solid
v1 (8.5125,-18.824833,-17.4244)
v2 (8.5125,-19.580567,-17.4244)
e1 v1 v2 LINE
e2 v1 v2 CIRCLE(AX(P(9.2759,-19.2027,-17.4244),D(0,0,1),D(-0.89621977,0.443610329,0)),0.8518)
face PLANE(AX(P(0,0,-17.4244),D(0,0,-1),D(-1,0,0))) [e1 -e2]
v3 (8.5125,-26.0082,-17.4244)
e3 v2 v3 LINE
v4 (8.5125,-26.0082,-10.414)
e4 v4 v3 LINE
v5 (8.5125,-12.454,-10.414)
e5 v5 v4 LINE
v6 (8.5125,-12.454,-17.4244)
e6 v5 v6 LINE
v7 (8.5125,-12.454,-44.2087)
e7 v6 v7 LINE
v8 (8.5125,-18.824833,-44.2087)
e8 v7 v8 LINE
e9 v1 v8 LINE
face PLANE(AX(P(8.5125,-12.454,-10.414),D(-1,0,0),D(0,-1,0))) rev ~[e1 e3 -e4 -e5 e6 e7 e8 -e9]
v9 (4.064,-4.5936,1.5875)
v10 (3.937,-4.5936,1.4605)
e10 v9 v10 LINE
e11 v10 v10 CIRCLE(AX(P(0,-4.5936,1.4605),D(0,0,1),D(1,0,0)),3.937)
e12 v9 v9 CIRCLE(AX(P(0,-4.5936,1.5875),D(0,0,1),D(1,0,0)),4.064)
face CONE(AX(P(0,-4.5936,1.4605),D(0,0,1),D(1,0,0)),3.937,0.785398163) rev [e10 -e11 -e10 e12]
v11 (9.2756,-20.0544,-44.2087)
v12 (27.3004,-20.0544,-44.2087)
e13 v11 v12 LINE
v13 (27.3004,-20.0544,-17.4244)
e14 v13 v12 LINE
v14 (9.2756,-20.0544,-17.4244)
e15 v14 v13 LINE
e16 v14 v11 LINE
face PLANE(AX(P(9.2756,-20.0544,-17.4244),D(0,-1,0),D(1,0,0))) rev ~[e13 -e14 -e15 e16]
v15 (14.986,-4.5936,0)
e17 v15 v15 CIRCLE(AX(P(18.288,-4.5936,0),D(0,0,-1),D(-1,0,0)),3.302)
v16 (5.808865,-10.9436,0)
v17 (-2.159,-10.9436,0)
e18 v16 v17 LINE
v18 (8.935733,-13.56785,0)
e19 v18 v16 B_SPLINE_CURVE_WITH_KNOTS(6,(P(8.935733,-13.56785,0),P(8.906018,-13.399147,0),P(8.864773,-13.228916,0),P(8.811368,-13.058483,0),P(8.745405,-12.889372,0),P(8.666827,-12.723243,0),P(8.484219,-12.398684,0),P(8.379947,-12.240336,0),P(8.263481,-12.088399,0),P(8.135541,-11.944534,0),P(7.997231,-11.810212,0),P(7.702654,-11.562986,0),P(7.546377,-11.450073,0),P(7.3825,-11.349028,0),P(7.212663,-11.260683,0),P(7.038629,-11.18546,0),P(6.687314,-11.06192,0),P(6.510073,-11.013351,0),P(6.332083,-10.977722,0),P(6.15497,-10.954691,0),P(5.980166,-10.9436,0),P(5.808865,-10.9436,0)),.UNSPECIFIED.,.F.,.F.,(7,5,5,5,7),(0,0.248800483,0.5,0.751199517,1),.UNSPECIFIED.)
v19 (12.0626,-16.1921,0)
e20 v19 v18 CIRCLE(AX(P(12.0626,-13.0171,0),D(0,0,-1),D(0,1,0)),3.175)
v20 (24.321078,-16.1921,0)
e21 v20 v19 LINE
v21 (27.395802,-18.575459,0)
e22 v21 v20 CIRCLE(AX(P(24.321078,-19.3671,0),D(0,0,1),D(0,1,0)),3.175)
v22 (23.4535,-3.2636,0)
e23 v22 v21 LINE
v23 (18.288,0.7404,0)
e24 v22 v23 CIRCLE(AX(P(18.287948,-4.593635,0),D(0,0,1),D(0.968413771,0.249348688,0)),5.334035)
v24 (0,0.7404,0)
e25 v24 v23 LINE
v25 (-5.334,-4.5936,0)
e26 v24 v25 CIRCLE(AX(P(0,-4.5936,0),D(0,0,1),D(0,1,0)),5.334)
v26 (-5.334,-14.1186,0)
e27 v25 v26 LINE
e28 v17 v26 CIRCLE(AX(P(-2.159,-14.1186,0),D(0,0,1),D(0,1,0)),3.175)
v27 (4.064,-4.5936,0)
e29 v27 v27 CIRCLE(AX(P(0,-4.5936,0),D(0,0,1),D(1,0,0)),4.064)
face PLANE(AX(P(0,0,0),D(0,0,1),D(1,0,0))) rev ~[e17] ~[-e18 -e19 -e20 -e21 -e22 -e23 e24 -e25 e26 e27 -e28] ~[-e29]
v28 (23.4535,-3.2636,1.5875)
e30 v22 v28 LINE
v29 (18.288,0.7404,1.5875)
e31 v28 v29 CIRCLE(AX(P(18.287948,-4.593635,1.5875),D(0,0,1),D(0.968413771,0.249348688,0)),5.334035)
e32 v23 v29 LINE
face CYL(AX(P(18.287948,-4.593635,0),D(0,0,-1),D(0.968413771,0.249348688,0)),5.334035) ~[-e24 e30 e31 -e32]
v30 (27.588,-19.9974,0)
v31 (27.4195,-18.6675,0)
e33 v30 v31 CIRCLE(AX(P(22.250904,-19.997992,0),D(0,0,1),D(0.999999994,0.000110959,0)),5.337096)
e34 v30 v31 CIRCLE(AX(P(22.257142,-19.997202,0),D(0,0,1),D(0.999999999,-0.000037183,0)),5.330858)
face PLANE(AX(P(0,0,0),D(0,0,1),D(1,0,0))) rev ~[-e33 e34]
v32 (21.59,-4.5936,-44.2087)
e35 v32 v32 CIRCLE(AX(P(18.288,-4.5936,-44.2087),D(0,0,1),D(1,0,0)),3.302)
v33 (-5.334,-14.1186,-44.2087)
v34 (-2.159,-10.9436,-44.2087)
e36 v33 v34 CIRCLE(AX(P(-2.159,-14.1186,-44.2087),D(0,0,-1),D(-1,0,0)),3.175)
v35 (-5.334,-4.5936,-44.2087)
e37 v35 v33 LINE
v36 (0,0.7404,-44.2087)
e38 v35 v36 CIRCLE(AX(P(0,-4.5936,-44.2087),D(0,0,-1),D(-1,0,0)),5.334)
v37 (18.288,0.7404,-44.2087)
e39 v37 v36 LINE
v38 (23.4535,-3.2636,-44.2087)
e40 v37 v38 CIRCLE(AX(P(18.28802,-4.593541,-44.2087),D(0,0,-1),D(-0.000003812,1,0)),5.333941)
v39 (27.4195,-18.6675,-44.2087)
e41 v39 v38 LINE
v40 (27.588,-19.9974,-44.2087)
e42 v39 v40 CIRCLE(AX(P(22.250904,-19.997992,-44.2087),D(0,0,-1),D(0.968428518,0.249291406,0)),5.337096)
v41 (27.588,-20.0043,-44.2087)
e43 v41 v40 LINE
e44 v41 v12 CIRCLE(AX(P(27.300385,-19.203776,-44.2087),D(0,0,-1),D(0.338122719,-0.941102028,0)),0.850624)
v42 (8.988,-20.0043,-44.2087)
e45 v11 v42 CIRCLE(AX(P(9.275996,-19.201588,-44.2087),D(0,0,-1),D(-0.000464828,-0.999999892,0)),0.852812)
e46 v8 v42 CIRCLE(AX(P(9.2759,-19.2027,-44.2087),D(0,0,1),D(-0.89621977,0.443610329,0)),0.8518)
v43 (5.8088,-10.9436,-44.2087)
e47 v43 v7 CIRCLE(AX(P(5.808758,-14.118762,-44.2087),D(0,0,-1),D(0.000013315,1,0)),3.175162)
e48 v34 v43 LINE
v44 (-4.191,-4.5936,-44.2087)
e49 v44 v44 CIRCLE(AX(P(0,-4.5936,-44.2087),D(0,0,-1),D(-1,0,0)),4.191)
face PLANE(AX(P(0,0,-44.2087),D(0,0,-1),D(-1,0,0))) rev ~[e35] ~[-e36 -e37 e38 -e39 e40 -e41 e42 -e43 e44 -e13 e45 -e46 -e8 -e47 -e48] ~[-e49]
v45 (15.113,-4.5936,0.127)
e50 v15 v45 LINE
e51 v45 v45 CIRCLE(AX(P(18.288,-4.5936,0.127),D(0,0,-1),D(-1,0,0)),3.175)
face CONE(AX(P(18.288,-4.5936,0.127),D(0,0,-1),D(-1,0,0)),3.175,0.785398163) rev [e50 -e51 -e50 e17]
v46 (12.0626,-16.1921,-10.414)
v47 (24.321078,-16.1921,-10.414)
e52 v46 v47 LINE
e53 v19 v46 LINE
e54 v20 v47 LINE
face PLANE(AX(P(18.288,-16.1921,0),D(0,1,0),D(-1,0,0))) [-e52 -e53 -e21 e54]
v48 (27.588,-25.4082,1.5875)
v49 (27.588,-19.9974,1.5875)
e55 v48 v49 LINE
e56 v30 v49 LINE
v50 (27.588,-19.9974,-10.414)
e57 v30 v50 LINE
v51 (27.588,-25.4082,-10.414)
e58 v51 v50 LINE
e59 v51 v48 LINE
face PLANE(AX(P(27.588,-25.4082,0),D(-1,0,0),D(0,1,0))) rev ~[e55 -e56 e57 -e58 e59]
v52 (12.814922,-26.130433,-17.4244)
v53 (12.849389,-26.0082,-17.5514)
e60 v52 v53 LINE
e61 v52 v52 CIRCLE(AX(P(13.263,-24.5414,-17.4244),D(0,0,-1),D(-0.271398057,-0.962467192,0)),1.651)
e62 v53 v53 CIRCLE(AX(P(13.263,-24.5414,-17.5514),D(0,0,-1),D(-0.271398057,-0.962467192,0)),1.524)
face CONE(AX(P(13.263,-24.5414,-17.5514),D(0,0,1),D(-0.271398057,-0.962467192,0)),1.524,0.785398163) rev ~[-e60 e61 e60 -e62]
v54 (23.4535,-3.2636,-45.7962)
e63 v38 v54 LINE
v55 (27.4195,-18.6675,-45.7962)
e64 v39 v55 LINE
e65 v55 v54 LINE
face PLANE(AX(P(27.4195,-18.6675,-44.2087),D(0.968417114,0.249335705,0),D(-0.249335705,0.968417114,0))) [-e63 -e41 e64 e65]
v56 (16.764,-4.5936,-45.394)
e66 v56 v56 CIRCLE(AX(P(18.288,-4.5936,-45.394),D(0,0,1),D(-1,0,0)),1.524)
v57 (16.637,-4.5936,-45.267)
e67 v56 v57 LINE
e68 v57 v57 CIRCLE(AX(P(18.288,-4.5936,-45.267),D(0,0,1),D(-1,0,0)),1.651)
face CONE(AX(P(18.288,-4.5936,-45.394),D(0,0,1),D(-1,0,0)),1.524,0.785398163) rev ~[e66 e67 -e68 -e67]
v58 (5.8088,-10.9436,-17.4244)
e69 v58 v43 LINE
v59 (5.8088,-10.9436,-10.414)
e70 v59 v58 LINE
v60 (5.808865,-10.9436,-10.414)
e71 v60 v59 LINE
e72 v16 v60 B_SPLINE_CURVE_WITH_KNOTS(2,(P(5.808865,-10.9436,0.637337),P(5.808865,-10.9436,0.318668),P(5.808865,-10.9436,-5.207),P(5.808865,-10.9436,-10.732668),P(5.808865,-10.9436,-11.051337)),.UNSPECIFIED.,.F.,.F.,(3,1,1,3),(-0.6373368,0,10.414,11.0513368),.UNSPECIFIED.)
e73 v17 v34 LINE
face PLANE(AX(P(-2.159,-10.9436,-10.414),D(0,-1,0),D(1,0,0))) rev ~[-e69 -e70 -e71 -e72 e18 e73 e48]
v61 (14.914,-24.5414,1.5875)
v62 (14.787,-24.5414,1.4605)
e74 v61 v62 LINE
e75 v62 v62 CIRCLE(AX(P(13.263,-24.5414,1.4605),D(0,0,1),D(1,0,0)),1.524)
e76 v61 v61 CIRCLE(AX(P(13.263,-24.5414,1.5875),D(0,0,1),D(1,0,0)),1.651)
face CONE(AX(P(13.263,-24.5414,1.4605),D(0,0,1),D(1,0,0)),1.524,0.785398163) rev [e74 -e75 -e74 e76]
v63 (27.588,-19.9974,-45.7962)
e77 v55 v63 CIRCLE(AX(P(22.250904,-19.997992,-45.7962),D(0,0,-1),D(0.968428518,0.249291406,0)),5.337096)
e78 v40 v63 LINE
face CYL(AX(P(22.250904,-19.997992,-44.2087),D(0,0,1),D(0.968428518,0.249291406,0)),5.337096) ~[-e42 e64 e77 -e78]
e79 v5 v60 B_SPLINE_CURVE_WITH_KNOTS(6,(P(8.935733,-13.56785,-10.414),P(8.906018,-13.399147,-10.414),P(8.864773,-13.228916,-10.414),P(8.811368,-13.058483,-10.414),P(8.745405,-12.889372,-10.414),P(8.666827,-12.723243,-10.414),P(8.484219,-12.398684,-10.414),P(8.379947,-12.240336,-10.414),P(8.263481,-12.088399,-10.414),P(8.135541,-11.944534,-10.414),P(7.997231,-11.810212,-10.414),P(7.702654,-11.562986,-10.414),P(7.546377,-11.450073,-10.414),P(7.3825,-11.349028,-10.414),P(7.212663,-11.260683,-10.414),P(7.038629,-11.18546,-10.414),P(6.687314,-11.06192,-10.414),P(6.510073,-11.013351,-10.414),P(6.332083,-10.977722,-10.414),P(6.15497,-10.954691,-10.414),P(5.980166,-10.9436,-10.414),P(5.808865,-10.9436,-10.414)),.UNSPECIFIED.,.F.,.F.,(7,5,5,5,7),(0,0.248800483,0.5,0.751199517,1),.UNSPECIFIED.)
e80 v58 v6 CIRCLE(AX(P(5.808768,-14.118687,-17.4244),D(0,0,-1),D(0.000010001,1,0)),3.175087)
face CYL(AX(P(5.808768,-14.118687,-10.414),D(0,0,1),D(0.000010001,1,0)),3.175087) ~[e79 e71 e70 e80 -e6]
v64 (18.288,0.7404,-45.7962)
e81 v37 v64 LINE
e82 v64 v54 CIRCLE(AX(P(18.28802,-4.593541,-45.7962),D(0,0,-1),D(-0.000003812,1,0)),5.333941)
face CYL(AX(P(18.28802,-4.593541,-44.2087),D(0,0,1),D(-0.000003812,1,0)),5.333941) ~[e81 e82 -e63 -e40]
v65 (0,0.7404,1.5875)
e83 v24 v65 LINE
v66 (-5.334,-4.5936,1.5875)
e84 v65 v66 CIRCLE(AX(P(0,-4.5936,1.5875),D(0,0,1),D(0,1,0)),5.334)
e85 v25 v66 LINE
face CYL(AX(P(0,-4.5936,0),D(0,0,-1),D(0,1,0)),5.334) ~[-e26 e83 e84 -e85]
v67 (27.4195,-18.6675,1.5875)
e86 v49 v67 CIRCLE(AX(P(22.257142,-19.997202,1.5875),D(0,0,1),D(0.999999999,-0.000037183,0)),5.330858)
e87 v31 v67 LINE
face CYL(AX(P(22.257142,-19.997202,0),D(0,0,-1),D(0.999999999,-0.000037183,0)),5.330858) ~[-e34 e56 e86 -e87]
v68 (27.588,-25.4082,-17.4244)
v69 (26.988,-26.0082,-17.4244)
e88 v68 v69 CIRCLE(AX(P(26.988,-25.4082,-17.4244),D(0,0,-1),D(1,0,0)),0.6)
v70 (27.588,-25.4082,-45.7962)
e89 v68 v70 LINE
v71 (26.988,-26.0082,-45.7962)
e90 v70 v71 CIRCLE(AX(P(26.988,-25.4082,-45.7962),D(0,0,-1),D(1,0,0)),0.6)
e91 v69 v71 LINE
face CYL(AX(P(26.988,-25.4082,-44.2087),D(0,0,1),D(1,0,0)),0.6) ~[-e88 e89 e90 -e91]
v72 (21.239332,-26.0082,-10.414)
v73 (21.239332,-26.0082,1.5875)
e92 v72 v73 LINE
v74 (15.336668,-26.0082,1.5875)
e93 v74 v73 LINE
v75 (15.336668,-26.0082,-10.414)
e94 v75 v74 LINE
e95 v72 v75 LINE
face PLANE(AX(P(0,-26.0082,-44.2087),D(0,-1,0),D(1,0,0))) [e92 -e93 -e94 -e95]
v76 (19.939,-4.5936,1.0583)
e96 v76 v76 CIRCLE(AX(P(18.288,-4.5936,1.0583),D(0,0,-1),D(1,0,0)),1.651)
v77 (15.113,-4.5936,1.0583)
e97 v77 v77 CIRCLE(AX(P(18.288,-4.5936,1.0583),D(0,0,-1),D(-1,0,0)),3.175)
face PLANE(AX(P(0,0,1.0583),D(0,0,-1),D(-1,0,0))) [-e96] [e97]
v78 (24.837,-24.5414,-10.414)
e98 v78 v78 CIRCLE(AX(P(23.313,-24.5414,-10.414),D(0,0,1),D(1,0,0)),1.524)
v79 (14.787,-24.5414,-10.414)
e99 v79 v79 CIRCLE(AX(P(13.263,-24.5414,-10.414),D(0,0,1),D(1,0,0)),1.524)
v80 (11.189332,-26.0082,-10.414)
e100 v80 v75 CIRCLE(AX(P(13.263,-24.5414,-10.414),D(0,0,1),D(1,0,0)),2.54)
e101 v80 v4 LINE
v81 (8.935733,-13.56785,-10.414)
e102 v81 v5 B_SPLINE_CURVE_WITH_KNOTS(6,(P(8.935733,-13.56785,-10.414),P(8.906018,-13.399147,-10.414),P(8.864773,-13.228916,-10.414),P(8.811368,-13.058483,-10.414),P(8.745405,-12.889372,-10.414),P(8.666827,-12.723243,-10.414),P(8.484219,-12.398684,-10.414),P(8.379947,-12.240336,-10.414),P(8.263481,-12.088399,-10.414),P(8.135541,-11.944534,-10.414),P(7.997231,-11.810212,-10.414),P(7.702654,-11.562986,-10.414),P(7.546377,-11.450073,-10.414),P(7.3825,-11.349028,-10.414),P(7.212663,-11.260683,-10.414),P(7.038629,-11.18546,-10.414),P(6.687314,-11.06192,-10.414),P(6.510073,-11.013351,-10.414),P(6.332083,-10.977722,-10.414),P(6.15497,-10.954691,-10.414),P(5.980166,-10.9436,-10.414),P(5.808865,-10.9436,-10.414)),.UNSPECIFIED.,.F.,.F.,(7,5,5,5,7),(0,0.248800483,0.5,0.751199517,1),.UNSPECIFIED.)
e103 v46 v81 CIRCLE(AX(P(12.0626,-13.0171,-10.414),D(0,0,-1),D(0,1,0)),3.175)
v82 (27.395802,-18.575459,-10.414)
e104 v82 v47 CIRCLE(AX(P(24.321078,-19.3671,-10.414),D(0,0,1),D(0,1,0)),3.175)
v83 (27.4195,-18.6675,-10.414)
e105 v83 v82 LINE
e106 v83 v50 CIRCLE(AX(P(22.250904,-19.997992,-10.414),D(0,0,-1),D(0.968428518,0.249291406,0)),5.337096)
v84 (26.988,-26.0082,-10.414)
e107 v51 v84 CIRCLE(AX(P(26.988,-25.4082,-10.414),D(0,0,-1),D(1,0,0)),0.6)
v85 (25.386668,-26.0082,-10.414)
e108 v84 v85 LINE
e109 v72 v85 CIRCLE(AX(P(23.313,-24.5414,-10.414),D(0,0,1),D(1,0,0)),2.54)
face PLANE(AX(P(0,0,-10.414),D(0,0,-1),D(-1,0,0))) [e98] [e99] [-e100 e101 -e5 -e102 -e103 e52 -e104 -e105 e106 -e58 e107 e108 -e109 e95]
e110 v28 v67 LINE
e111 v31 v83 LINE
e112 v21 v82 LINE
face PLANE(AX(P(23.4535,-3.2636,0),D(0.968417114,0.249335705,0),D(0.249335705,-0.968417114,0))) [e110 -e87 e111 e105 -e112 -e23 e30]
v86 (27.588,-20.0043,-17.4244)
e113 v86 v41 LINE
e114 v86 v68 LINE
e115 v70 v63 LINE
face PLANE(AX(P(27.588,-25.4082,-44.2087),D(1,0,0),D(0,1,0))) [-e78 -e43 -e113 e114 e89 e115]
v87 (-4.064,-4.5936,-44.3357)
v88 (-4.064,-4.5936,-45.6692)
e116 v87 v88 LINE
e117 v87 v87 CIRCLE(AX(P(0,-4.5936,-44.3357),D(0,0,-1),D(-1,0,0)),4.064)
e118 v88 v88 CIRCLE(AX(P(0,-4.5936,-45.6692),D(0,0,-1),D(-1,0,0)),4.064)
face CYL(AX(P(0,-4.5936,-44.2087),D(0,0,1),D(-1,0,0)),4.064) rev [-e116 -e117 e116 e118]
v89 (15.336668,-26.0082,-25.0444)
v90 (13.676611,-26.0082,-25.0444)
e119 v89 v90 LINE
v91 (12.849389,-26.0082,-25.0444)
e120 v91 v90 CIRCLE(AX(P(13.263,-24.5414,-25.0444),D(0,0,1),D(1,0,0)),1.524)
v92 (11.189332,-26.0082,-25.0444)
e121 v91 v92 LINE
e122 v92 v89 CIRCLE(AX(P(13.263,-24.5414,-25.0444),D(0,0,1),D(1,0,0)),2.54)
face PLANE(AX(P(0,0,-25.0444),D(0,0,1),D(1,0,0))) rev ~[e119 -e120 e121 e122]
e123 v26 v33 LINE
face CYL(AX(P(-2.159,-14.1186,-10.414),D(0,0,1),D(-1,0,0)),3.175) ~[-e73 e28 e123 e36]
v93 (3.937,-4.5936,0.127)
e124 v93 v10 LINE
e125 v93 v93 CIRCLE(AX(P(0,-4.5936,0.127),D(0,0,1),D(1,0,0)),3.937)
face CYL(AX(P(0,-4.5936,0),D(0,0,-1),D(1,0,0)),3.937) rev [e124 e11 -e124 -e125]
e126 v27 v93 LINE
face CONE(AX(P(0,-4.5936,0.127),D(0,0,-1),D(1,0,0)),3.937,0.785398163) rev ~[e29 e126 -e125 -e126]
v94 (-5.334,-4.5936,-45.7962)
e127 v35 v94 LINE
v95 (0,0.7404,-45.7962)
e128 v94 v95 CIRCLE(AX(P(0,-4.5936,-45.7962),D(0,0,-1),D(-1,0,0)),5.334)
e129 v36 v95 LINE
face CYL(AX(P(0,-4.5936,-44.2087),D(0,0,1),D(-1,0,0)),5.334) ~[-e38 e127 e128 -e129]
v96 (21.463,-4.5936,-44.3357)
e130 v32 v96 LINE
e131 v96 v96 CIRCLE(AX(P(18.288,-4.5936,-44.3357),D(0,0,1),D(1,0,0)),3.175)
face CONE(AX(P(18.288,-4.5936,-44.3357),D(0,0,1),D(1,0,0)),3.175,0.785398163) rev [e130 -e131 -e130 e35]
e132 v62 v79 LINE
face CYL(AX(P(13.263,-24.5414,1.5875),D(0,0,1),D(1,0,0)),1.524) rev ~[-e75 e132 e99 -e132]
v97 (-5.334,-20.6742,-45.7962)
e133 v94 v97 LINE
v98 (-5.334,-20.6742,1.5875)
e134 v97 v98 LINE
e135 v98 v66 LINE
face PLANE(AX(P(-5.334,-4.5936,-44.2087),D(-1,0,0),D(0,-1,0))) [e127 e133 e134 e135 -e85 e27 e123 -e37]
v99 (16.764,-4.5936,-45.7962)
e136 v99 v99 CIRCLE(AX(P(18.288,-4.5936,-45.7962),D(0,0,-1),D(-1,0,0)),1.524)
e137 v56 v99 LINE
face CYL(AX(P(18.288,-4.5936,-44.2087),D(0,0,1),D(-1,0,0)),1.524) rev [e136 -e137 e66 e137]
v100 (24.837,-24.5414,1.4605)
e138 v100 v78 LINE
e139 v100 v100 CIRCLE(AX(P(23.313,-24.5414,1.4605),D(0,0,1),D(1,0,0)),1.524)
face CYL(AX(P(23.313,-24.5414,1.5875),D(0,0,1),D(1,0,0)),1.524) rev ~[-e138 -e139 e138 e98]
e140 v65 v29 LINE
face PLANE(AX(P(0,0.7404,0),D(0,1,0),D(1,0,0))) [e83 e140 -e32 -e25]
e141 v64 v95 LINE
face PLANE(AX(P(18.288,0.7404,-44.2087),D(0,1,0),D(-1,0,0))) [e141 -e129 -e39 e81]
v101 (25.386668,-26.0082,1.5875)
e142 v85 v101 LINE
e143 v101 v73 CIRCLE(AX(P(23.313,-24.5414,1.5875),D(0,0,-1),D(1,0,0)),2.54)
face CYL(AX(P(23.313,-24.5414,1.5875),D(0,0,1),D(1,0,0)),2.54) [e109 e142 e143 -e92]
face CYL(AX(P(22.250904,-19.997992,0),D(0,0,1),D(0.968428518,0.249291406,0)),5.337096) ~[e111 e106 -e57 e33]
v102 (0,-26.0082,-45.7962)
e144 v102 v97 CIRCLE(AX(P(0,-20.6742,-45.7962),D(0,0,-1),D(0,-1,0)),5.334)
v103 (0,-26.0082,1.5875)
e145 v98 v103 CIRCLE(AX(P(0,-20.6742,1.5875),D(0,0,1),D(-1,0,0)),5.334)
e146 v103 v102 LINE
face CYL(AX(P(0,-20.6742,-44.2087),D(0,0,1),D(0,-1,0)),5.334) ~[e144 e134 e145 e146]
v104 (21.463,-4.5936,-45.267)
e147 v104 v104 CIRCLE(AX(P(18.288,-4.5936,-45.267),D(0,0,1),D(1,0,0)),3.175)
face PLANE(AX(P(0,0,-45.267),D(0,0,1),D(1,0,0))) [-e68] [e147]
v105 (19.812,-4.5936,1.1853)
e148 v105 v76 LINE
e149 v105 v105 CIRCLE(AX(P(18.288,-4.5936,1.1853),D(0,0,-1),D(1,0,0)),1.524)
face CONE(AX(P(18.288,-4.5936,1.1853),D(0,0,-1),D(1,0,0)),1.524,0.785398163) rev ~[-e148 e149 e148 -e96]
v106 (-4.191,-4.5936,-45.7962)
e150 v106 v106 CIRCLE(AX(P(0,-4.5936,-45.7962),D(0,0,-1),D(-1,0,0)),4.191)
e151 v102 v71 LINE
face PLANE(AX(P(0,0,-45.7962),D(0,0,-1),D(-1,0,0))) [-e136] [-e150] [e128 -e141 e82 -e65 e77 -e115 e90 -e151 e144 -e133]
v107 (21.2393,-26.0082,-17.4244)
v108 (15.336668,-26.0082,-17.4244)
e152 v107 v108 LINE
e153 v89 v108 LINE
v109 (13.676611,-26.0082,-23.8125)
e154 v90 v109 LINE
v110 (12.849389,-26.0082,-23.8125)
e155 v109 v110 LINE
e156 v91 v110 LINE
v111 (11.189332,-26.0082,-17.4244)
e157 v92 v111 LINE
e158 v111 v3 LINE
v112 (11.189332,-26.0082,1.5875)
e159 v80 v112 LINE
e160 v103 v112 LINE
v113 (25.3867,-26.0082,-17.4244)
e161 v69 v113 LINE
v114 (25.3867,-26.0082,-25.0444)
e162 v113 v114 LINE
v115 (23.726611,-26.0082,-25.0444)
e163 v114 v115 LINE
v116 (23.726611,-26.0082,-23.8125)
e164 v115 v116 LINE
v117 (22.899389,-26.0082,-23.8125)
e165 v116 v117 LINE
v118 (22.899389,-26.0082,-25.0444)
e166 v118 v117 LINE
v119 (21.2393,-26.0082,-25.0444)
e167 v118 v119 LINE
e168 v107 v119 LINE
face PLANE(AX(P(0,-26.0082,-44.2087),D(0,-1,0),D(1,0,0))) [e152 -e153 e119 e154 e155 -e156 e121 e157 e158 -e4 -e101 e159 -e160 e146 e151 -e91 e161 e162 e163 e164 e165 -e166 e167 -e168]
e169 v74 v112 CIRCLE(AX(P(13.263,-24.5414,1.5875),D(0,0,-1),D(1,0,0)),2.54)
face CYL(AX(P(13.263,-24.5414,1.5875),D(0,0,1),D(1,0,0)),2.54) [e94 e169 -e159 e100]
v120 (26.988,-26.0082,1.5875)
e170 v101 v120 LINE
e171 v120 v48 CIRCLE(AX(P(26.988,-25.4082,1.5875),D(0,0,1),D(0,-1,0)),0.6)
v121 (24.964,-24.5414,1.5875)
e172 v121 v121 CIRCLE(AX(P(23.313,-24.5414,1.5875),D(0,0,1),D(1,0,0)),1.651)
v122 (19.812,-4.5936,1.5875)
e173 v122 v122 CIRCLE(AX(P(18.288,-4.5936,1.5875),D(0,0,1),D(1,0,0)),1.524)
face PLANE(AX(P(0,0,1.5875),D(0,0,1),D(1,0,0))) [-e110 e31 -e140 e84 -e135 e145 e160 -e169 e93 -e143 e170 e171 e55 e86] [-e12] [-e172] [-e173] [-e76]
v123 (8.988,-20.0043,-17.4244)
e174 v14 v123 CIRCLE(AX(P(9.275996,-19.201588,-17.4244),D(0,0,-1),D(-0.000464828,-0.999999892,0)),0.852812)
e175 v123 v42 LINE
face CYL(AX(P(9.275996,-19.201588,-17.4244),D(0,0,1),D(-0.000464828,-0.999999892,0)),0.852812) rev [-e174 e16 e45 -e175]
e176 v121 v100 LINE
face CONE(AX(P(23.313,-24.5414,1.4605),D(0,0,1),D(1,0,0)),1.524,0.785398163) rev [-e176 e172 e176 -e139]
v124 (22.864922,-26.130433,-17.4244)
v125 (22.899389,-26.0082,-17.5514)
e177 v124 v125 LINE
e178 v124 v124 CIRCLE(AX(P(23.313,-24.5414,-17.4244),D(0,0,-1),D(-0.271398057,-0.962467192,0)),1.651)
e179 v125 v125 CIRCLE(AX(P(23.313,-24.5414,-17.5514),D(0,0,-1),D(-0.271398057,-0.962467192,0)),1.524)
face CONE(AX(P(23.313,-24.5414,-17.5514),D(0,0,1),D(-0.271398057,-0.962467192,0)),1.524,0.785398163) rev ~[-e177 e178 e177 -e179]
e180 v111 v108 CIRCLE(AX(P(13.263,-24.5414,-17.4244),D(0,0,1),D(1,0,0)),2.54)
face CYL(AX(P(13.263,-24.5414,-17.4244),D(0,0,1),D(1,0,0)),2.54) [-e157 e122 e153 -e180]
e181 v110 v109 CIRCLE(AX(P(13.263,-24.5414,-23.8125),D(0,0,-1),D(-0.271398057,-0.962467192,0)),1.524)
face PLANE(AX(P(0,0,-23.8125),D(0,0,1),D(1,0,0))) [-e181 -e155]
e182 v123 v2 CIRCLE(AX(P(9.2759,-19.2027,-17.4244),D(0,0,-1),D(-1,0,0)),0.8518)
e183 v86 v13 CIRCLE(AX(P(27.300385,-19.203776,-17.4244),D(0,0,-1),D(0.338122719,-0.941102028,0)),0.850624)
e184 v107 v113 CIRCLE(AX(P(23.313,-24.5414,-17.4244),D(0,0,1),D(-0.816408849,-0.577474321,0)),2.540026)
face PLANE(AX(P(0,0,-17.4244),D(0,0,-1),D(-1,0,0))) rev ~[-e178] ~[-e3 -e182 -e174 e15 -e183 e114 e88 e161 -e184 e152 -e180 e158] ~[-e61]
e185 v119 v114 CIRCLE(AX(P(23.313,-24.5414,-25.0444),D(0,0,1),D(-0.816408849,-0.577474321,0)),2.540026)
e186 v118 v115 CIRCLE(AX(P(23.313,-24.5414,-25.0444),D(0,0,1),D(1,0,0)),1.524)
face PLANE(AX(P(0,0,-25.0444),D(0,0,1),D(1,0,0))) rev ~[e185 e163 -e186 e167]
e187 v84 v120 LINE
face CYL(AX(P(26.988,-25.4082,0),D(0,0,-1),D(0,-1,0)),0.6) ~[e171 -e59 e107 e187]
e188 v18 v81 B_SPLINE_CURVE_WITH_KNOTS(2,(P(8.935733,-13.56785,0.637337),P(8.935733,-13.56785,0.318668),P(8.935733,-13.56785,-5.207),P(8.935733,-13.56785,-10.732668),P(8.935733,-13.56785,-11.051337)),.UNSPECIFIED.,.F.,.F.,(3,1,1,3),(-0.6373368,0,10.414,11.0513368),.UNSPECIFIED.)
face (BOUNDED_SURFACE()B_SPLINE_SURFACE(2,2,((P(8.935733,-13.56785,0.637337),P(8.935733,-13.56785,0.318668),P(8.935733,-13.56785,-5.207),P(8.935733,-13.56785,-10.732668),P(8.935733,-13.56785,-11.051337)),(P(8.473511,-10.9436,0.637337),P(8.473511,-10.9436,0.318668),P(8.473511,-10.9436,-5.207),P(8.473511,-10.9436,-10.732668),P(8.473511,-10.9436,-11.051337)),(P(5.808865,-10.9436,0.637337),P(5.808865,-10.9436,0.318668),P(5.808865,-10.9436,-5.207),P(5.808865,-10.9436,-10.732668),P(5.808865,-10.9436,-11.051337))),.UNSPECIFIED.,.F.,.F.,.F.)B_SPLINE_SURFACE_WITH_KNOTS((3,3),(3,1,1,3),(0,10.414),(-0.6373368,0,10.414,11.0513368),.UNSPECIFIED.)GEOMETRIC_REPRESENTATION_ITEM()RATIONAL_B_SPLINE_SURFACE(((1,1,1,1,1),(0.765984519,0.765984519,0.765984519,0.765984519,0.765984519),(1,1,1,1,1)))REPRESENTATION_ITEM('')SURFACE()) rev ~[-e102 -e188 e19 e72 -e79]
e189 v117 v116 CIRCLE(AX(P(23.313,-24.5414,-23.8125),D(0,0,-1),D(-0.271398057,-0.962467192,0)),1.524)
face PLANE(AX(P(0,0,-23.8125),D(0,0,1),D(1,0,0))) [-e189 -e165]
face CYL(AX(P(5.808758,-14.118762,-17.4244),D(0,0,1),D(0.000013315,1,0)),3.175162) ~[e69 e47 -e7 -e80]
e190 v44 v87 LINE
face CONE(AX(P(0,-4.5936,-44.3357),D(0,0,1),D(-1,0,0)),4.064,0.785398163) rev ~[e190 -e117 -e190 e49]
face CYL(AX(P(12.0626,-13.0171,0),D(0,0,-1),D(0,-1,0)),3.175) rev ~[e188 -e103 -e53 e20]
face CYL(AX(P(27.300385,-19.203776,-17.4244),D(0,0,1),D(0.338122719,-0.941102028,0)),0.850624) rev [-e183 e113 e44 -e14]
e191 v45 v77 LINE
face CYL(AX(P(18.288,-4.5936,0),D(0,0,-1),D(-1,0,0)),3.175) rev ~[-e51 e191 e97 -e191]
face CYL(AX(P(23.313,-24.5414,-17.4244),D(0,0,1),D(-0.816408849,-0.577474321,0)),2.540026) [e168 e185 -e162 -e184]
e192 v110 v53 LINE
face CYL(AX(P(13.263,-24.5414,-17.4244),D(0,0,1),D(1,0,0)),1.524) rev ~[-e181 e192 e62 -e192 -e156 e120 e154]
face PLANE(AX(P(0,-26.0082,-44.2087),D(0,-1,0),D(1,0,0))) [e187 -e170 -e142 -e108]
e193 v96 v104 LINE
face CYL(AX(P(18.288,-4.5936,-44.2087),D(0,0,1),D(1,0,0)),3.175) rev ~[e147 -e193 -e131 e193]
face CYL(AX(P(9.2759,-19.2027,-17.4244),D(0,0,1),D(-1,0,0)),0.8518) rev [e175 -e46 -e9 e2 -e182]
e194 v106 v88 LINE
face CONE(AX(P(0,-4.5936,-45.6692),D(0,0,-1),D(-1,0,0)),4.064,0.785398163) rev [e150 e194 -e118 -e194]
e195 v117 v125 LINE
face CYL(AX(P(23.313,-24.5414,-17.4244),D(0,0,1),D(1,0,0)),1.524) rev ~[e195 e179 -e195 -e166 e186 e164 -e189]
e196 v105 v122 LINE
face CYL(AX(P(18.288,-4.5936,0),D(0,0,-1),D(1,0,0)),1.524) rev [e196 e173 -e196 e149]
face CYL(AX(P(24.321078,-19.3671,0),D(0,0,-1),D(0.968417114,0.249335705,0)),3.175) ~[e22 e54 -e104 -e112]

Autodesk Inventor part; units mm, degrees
ref_plane "YZ Plane" through (0, 0, 0) normal (1, 0, 0) x (0, 1, 0)
ref_plane "XZ Plane" through (0, 0, 0) normal (0, 1, 0) x (-1, 0, 0)
ref_plane "XY Plane" through (0, 0, 0) normal (0, 0, 1) x (1, 0, 0)
sketch "Sketch1" plane through (0, 0, 0) normal (0, 0, 1) x (1, 0, 0)
  circle A0 centre (0, -4.5936) radius 3.81 projected
  circle A1 centre (0, -4.5936) radius 3.937
  arc A2 (0, 0.7404) -> (-5.334, -4.5936) centre (0, -4.5936) ccw
  line L0 (2.032, -6.6256) -> (-2.032, -6.6256) projected
  line L1 (2.032, -2.5616) -> (2.032, -6.6256) projected
  line L2 (-2.032, -2.5616) -> (2.032, -2.5616) projected
  line L3 (-2.032, -6.6256) -> (-2.032, -2.5616) projected
  circle A3 centre (18.288, -4.5936) radius 1.524
  arc A4 (23.4535, -3.2636) -> (18.288, 0.7404) centre (18.288, -4.5936) ccw
  line L4 (0, 0.7404) -> (18.288, 0.7404)
  line L5 (27.2953, -20.0494) -> (18.963, -20.0494) projected
  line L6 (18.963, -20.0494) -> (18.963, -25.2412) projected
  spline S0 degree 3 poles (18.963, -25.2412) (18.963, -25.3646) (18.9307, -25.4866) (18.8751, -25.5737) (18.8196, -25.6607) (18.7418, -25.7114) (18.663, -25.7114) knots 1.570796 1.570796 1.570796 1.570796 2.356194 2.356194 2.356194 3.141593 3.141593 3.141593 3.141593 projected
  line L7 (18.663, -25.7114) -> (17.913, -25.7114) projected
  spline S1 degree 3 poles (17.913, -25.7114) (17.8342, -25.7114) (17.7564, -25.6607) (17.7009, -25.5737) (17.6453, -25.4866) (17.613, -25.3646) (17.613, -25.2412) knots 0 0 0 0 0.785398 0.785398 0.785398 1.570796 1.570796 1.570796 1.570796 projected
  line L8 (17.613, -25.2412) -> (17.613, -20.0494) projected
  line L9 (17.613, -20.0494) -> (9.2807, -20.0494) projected
  arc A5 (8.988, -19.9974) -> (9.2807, -20.0494) centre (9.281, -19.1976) ccw projected
  line L10 (8.988, -19.9974) -> (8.988, -25.4082) projected
  arc A6 (8.988, -25.4082) -> (9.588, -26.0082) centre (9.588, -25.4082) ccw projected
  line L11 (9.588, -26.0082) -> (11.5899, -26.0082) projected
  arc A7 (14.9361, -26.0082) -> (11.5899, -26.0082) centre (13.263, -24.5414) ccw projected
  line L12 (14.9361, -26.0082) -> (21.6399, -26.0082) projected
  arc A8 (24.9861, -26.0082) -> (21.6399, -26.0082) centre (23.313, -24.5414) ccw projected
  line L13 (24.9861, -26.0082) -> (26.988, -26.0082) projected
  arc A9 (26.988, -26.0082) -> (27.588, -25.4082) centre (26.988, -25.4082) ccw projected
  line L14 (27.588, -25.4082) -> (27.588, -19.9974) projected
  arc A10 (27.2953, -20.0494) -> (27.588, -19.9974) centre (27.295, -19.1976) ccw projected
  arc A11 (-5.334, -20.6742) -> (0, -26.0082) centre (0, -20.6742) ccw
  line L15 (-5.334, -20.6742) -> (-5.334, -4.5936)
  line L16 (0, -26.0082) -> (26.988, -26.0082)
  arc A12 (27.588, -19.9974) -> (27.4195, -18.6675) centre (22.254, -19.9974) ccw
  line L17 (23.4535, -3.2636) -> (27.4195, -18.6675)
  circle A13 centre (0, -4.5936) radius 1.651 projected
  point P0 (0, 0)
  point P1 (-5.2119, -3.4587)
  dimension "d0" = 0.127
  dimension "d1" = 3.048
  dimension "d2" = 10.668
  dimension "d3" = 10.668
  dimension "d4" = 10.668
extrude "Extrusion1" add sketch "Sketch1" along normal blind 1.5875 contours L4 A4 L17 A12 A10 L5 L6 S0 L7 S1 L8 L9 A5 L10 A6 L16 A11 L15 A2 | A6 L10 A5 L9 L8 S1 L7 S0 L6 L5 A10 L14 A9 L13 A8 L12 A7 L11 | A7 L16 | A8 L16
sketch "Sketch2" plane through (0, 0, 0) normal (0, 0, -1) x (-1, 0, 0)
  circle A0 centre (-18.288, -4.5936) radius 1.524 projected
  circle A1 centre (-18.288, -4.5936) radius 3.175
  point P0 (0, 0)
  dimension "d7" = 6.35
extrude "Extrusion2" cut sketch "Sketch2" against normal blind 1.0583
chamfer "Chamfer1" distance 0.127 angle 45 4 edges at (16.764, -4.5936, 1.0583) (21.463, -4.5936, 0) (-3.937, -4.5936, 0) (-3.937, -4.5936, 1.5875)
sketch "Sketch3" plane through (0, 0, 0) normal (0, 0, -1) x (-1, 0, 0)
  line L0 (-8.8876, 8.9862) -> (-8.8876, -19.1925)
  spline S0 degree 4 poles (-8.8876, -19.1925) (-8.8876, -19.2415) (-8.8992, -19.3101) (-8.934, -19.3936) (-9.0024, -19.4777) (-9.0864, -19.5461) (-9.1699, -19.5808) (-9.2386, -19.5925) (-9.2876, -19.5925) knots 0 0 0 0 0 0.312551 0.43752 0.56248 0.687449 1 1 1 1 1
  line L1 (-9.2876, -19.5925) -> (-27.2884, -19.5925)
  spline S1 degree 4 poles (-27.2884, -19.5925) (-27.3374, -19.5925) (-27.4061, -19.5808) (-27.4896, -19.5461) (-27.5736, -19.4777) (-27.642, -19.3936) (-27.6768, -19.3101) (-27.6884, -19.2415) (-27.6884, -19.1925) knots 0 0 0 0 0 0.312551 0.43752 0.56248 0.687449 1 1 1 1 1
  line L2 (-27.6884, -19.1925) -> (-27.6884, 8.9862)
  arc A0 (-27.6884, 8.9862) -> (-27.3082, 7.377) centre (-18.288, 10.3579) ccw
  arc A1 (-27.288, 7.2515) -> (-27.3082, 7.377) centre (-27.688, 7.2515) ccw
  line L3 (-27.288, 7.2515) -> (-27.288, -13.4921)
  arc A2 (-27.288, -13.4921) -> (-26.888, -13.8921) centre (-26.888, -13.4921) ccw
  line L4 (-26.888, -13.8921) -> (-22.988, -13.8921)
  arc A3 (-22.6721, -14.0466) -> (-22.988, -13.8921) centre (-22.988, -14.2921) ccw
  arc A4 (-22.6721, -14.0466) -> (-13.9039, -14.0466) centre (-18.288, -10.6399) ccw
  arc A5 (-13.588, -13.8921) -> (-13.9039, -14.0466) centre (-13.588, -14.2921) ccw
  line L5 (-13.588, -13.8921) -> (-9.688, -13.8921)
  arc A6 (-9.688, -13.8921) -> (-9.288, -13.4921) centre (-9.688, -13.4921) ccw
  line L6 (-9.288, -13.4921) -> (-9.288, 7.2515)
  arc A7 (-9.2678, 7.377) -> (-9.288, 7.2515) centre (-8.888, 7.2515) ccw
  circle A8 centre (-18.288, -4.5936) radius 3.302 projected
  line L7 (-27.588, -25.4082) -> (-27.588, -19.9974) projected
  arc A9 (-27.588, -25.4082) -> (-26.988, -26.0082) centre (-26.988, -25.4082) ccw projected
  line L8 (0, -26.0082) -> (-26.988, -26.0082) projected
  arc A10 (0, -26.0082) -> (5.334, -20.6742) centre (0, -20.6742) ccw projected
  line L9 (5.334, -4.5936) -> (5.334, -20.6742) projected
  arc A11 (5.334, -4.5936) -> (0, 0.7404) centre (0, -4.5936) ccw projected
  line L10 (-18.288, 0.7404) -> (0, 0.7404) projected
  arc A12 (-18.288, 0.7404) -> (-23.4535, -3.2636) centre (-18.288, -4.5936) ccw projected
  line L11 (-27.4195, -18.6675) -> (-23.4535, -3.2636) projected
  arc A13 (-27.4195, -18.6675) -> (-27.588, -19.9974) centre (-22.254, -19.9974) ccw projected
  circle A14 centre (0, -4.5936) radius 4.064 projected
  line L12 (-27.2953, -20.0494) -> (-18.963, -20.0494) projected
  line L13 (-18.963, -20.0494) -> (-18.963, -25.2412) projected
  spline S2 degree 3 poles (-18.963, -25.2412) (-18.963, -25.3646) (-18.9307, -25.4866) (-18.8751, -25.5737) (-18.8196, -25.6607) (-18.7418, -25.7114) (-18.663, -25.7114) knots 1.570796 1.570796 1.570796 1.570796 2.356194 2.356194 2.356194 3.141593 3.141593 3.141593 3.141593 projected
  line L14 (-18.663, -25.7114) -> (-17.913, -25.7114) projected
  spline S3 degree 3 poles (-17.913, -25.7114) (-17.8342, -25.7114) (-17.7564, -25.6607) (-17.7009, -25.5737) (-17.6453, -25.4866) (-17.613, -25.3646) (-17.613, -25.2412) knots 0 0 0 0 0.785398 0.785398 0.785398 1.570796 1.570796 1.570796 1.570796 projected
  line L15 (-17.613, -25.2412) -> (-17.613, -20.0494) projected
  line L16 (-17.613, -20.0494) -> (-9.2807, -20.0494) projected
  arc A15 (-9.2807, -20.0494) -> (-8.988, -19.9974) centre (-9.281, -19.1976) ccw projected
  line L17 (-8.988, -19.9974) -> (-8.988, -25.4082) projected
  arc A16 (-9.588, -26.0082) -> (-8.988, -25.4082) centre (-9.588, -25.4082) ccw projected
  line L18 (-9.588, -26.0082) -> (-11.5899, -26.0082) projected
  arc A17 (-11.5899, -26.0082) -> (-14.9361, -26.0082) centre (-13.263, -24.5414) ccw projected
  line L19 (-14.9361, -26.0082) -> (-21.6399, -26.0082) projected
  arc A18 (-21.6399, -26.0082) -> (-24.9861, -26.0082) centre (-23.313, -24.5414) ccw projected
  line L20 (-24.9861, -26.0082) -> (-26.988, -26.0082) projected
  arc A19 (-27.588, -25.4082) -> (-26.988, -26.0082) centre (-26.988, -25.4082) ccw projected
  line L21 (-27.588, -25.4082) -> (-27.588, -19.9974) projected
  arc A20 (-27.588, -19.9974) -> (-27.2953, -20.0494) centre (-27.295, -19.1976) ccw projected
  circle A21 centre (0, -4.5936) radius 5.334
  line L22 (-26.7822, -16.1921) -> (-8.8876, -16.1921)
  line L23 (-8.8876, -10.9436) -> (5.334, -10.9436)
  point P0 (0, 0)
  point P1 (-18.288, -20.2544)
  point P2 (-8.8954, -19.2704)
  point P3 (-8.9184, -19.3455)
  point P4 (-8.9553, -19.4149)
  point P5 (-9.0047, -19.4753)
  point P6 (-9.0652, -19.5248)
  point P7 (-9.1345, -19.5617)
  point P8 (-9.2097, -19.5846)
  point P9 (-27.3663, -19.5846)
  point P10 (-27.4415, -19.5617)
  point P11 (-27.5108, -19.5248)
  point P12 (-27.5713, -19.4753)
  point P13 (-27.6207, -19.4149)
  point P14 (-27.6576, -19.3455)
  point P15 (-27.6806, -19.2704)
  dimension "d16" = 6.35
extrude "Extrusion3" add sketch "Sketch3" along normal blind 10.414 contours L23 L9 A10 L8 A16 L17 A15 L16 L15 S3 L14 S2 L13 L12 A20 A13 S1 L1 S0 L0 | L0 S0 L1 S1 A13 L11 L22 | L8 A17 A18 A9 L7 A20 L12 L13 S2 L14 S3 L15 L16 A15 L17 A16 | L8 A17 | L8 A18
fillet "Fillet1" radius 3.175 4 edges at (26.7822, -16.1921, -5.207) (8.8876, -16.1921, -5.207) (8.8876, -10.9436, -5.207) (-5.334, -10.9436, -5.207)
sketch "Sketch4" plane through (0, 0, -10.414) normal (0, 0, -1) x (-1, 0, 0)
  line L0 (-8.6395, -19.2082) -> (-8.6395, 19.7241) projected
  arc A0 (5.334, -14.1186) -> (2.159, -10.9436) centre (2.159, -14.1186) ccw projected
  line L1 (2.159, -10.9436) -> (-5.8088, -10.9436) projected
  arc A1 (-5.8088, -10.9436) -> (-8.9357, -13.5678) centre (-5.8088, -14.1186) ccw projected
  arc A2 (-12.0626, -16.1921) -> (-8.9357, -13.5678) centre (-12.0626, -13.0171) ccw projected
  line L2 (-12.0626, -16.1921) -> (-24.3211, -16.1921) projected
  arc A3 (-24.3211, -16.1921) -> (-27.3958, -18.5754) centre (-24.3211, -19.3671) ccw projected
  line L3 (-27.3958, -18.5754) -> (-27.4195, -18.6675) projected
  arc A4 (-27.4195, -18.6675) -> (-27.588, -19.9974) centre (-22.254, -19.9974) ccw projected
  line L4 (-27.588, -19.9974) -> (-27.588, -25.4082) projected
  arc A5 (-27.588, -25.4082) -> (-26.988, -26.0082) centre (-26.988, -25.4082) ccw projected
  line L5 (-26.988, -26.0082) -> (0, -26.0082) projected
  arc A6 (0, -26.0082) -> (5.334, -20.6742) centre (0, -20.6742) ccw projected
  line L6 (5.334, -20.6742) -> (5.334, -14.1186) projected
  line L7 (-8.5125, -12.454) -> (-8.5125, -26.0082)
  point P0 (0, 0)
  dimension "d17" = 0.127
extrude "Extrusion4" add sketch "Sketch4" along normal blind 7.0104 contours L6 A6 L5 L7 A1 L1 A0
sketch "Sketch5" plane through (0, 0, -17.4244) normal (0, 0, -1) x (-1, 0, 0)
  arc A0 (-9.2756, -20.0544) -> (-8.988, -20.0043) centre (-9.2759, -19.2027) ccw projected
  line L0 (-9.2756, -20.0544) -> (-27.3004, -20.0544) projected
  arc A1 (-27.588, -20.0043) -> (-27.3004, -20.0544) centre (-27.3001, -19.2027) ccw projected
  line L1 (-27.588, -20.0043) -> (-27.588, -25.4082) projected
  arc A2 (-27.588, -25.4082) -> (-26.988, -26.0082) centre (-26.988, -25.4082) ccw projected
  line L2 (-26.988, -26.0082) -> (-24.9861, -26.0082) projected
  arc A3 (-21.6399, -26.0082) -> (-24.9861, -26.0082) centre (-23.313, -24.5414) ccw projected
  line L3 (-21.6399, -26.0082) -> (-14.9361, -26.0082) projected
  arc A4 (-11.5899, -26.0082) -> (-14.9361, -26.0082) centre (-13.263, -24.5414) ccw projected
  line L4 (-11.5899, -26.0082) -> (-9.588, -26.0082) projected
  arc A5 (-9.588, -26.0082) -> (-8.988, -25.4082) centre (-9.588, -25.4082) ccw projected
  line L5 (-8.988, -25.4082) -> (-8.988, -20.0043) projected
  arc A6 (-5.8088, -10.9436) -> (-8.5125, -12.454) centre (-5.8088, -14.1186) ccw projected
  line L6 (-8.5125, -12.454) -> (-8.5125, -26.0082) projected
  line L7 (-8.5125, -26.0082) -> (0, -26.0082) projected
  arc A7 (0, -26.0082) -> (5.334, -20.6742) centre (0, -20.6742) ccw projected
  line L8 (5.334, -20.6742) -> (5.334, -14.1186) projected
  arc A8 (5.334, -14.1186) -> (2.159, -10.9436) centre (2.159, -14.1186) ccw projected
  line L9 (2.159, -10.9436) -> (-5.8088, -10.9436) projected
  line L10 (-8.5125, -26.0082) -> (-8.5125, -12.454) projected
  arc A9 (-8.5125, -12.454) -> (-8.9357, -13.5678) centre (-5.8088, -14.1186) ccw projected
  arc A10 (-12.0626, -16.1921) -> (-8.9357, -13.5678) centre (-12.0626, -13.0171) ccw projected
  line L11 (-12.0626, -16.1921) -> (-24.3211, -16.1921) projected
  arc A11 (-24.3211, -16.1921) -> (-27.3958, -18.5754) centre (-24.3211, -19.3671) ccw projected
  line L12 (-27.3958, -18.5754) -> (-27.4195, -18.6675) projected
  arc A12 (-27.4195, -18.6675) -> (-27.588, -19.9974) centre (-22.254, -19.9974) ccw projected
  line L13 (-27.588, -19.9974) -> (-27.588, -25.4082) projected
  arc A13 (-27.588, -25.4082) -> (-26.988, -26.0082) centre (-26.988, -25.4082) ccw projected
  line L14 (-26.988, -26.0082) -> (-8.5125, -26.0082) projected
  circle A14 centre (-9.2759, -19.2027) radius 0.8518
  arc A15 (-9.2756, -20.0544) -> (-8.988, -20.0043) centre (-9.2759, -19.2027) ccw projected
  line L15 (-9.2756, -20.0544) -> (-27.3004, -20.0544) projected
  arc A16 (-27.588, -20.0043) -> (-27.3004, -20.0544) centre (-27.3001, -19.2027) ccw projected
  line L16 (-27.588, -20.0043) -> (-27.588, -25.4082) projected
  arc A17 (-27.588, -25.4082) -> (-26.988, -26.0082) centre (-26.988, -25.4082) ccw projected
  line L17 (-26.988, -26.0082) -> (-24.9861, -26.0082) projected
  arc A18 (-21.6399, -26.0082) -> (-24.9861, -26.0082) centre (-23.313, -24.5414) ccw projected
  line L18 (-21.6399, -26.0082) -> (-14.9361, -26.0082) projected
  arc A19 (-11.5899, -26.0082) -> (-14.9361, -26.0082) centre (-13.263, -24.5414) ccw projected
  line L19 (-11.5899, -26.0082) -> (-9.588, -26.0082) projected
  arc A20 (-9.588, -26.0082) -> (-8.988, -25.4082) centre (-9.588, -25.4082) ccw projected
  line L20 (-8.988, -25.4082) -> (-8.988, -20.0043) projected
  point P0 (0, 0)
  point P1 (-8.5125, -18.8249)
extrude "Extrusion5" add sketch "Sketch5" along normal blind 26.7843 contours A0 L5 A5 L4 A4 L3 A3 L2 A2 L1 A1 L0 | A14 L6 L14 A5 L5 | L6 A6 L9 A8 L8 A7 L7 A14 | L14 A4 | A3 L14
sketch "Sketch6" plane through (0, 0, -44.2087) normal (0, 0, -1) x (-1, 0, 0)
  circle A0 centre (-18.288, -4.5936) radius 1.524 projected
  line L0 (-27.588, -25.4082) -> (-27.588, -19.9974) projected
  arc A1 (-27.4195, -18.6675) -> (-27.588, -19.9974) centre (-22.254, -19.9974) ccw projected
  line L1 (-27.4195, -18.6675) -> (-23.4535, -3.2636) projected
  arc A2 (-18.288, 0.7404) -> (-23.4535, -3.2636) centre (-18.288, -4.5936) ccw projected
  line L2 (-18.288, 0.7404) -> (0, 0.7404) projected
  arc A3 (5.334, -4.5936) -> (0, 0.7404) centre (0, -4.5936) ccw projected
  line L3 (5.334, -4.5936) -> (5.334, -20.6742) projected
  arc A4 (0, -26.0082) -> (5.334, -20.6742) centre (0, -20.6742) ccw projected
  line L4 (0, -26.0082) -> (-26.988, -26.0082) projected
  arc A5 (-27.588, -25.4082) -> (-26.988, -26.0082) centre (-26.988, -25.4082) ccw projected
  circle A6 centre (0, -4.5936) radius 4.064 projected
  point P0 (0, 0)
extrude "Extrusion6" add sketch "Sketch6" along normal blind 1.5875
sketch "Sketch7" plane through (0, 0, -44.2087) normal (0, 0, 1) x (1, 0, 0)
  circle A0 centre (18.288, -4.5936) radius 3.175 projected
  point P0 (0, 0)
extrude "Extrusion7" cut sketch "Sketch7" against normal blind 1.0583
chamfer "Chamfer2" distance 0.127 angle 45 4 edges at (4.064, -4.5936, -44.2087) (4.064, -4.5936, -45.7962) (19.812, -4.5936, -45.267) (15.113, -4.5936, -44.2087)
sketch "Sketch8" plane through (0, 0, 1.5875) normal (0, 0, 1) x (1, 0, 0)
  line L0 (27.2953, -20.0494) -> (18.963, -20.0494) projected
  line L1 (18.963, -20.0494) -> (18.963, -25.2412) projected
  spline S0 degree 3 poles (18.963, -25.2412) (18.963, -25.3646) (18.9307, -25.4866) (18.8751, -25.5737) (18.8196, -25.6607) (18.7418, -25.7114) (18.663, -25.7114) knots 1.570796 1.570796 1.570796 1.570796 2.356194 2.356194 2.356194 3.141593 3.141593 3.141593 3.141593 projected
  line L2 (18.663, -25.7114) -> (17.913, -25.7114) projected
  spline S1 degree 3 poles (17.913, -25.7114) (17.8342, -25.7114) (17.7564, -25.6607) (17.7009, -25.5737) (17.6453, -25.4866) (17.613, -25.3646) (17.613, -25.2412) knots 0 0 0 0 0.785398 0.785398 0.785398 1.570796 1.570796 1.570796 1.570796 projected
  line L3 (17.613, -25.2412) -> (17.613, -20.0494) projected
  line L4 (17.613, -20.0494) -> (9.2807, -20.0494) projected
  arc A0 (8.988, -19.9974) -> (9.2807, -20.0494) centre (9.281, -19.1976) ccw projected
  line L5 (8.988, -19.9974) -> (8.988, -25.4082) projected
  arc A1 (8.988, -25.4082) -> (9.588, -26.0082) centre (9.588, -25.4082) ccw projected
  line L6 (9.588, -26.0082) -> (11.5899, -26.0082) projected
  arc A2 (14.9361, -26.0082) -> (11.5899, -26.0082) centre (13.263, -24.5414) ccw projected
  line L7 (14.9361, -26.0082) -> (21.6399, -26.0082) projected
  arc A3 (24.9861, -26.0082) -> (21.6399, -26.0082) centre (23.313, -24.5414) ccw projected
  line L8 (24.9861, -26.0082) -> (26.988, -26.0082) projected
  arc A4 (26.988, -26.0082) -> (27.588, -25.4082) centre (26.988, -25.4082) ccw projected
  line L9 (27.588, -25.4082) -> (27.588, -19.9974) projected
  arc A5 (27.2953, -20.0494) -> (27.588, -19.9974) centre (27.295, -19.1976) ccw projected
  circle A6 centre (13.263, -24.5414) radius 1.524
  circle A7 centre (13.263, -24.5414) radius 2.54
  circle A8 centre (23.313, -24.5414) radius 1.524
  circle A9 centre (23.313, -24.5414) radius 2.54
  point P0 (0, 0)
  dimension "d29" = 3.048
  dimension "d30" = 5.08
  dimension "d31" = 3.048
  dimension "d32" = 5.08
extrude "Extrusion8" add sketch "Sketch8" against normal up to surface (12.0015 mm away) contours A9 L7 A3 L8 | L8 A3 L7 A9 | A7 L6 A2 L7 | L7 A2 L6 A7 | A6 | A8
extrude "Extrusion9" cut sketch "Sketch8" against normal blind 25.4 contours A6 | A8
sketch "Sketch9" plane through (0, 0, -17.4244) normal (0, 0, 1) x (1, 0, 0)
  circle A0 centre (13.263, -24.5414) radius 2.54 projected
  circle A1 centre (13.263, -24.5414) radius 1.524 projected
  arc A2 (21.2393, -26.0082) -> (25.3867, -26.0082) centre (23.313, -24.5414) ccw projected
  circle A3 centre (23.313, -24.5414) radius 1.524 projected
  circle A4 centre (23.313, -24.5414) radius 2.54 projected
  point P0 (0, 0)
extrude "Extrusion10" add sketch "Sketch9" against normal blind 7.62
chamfer "Chamfer3" distance 0.127 angle 45 4 edges at (21.789, -24.5414, 1.5875) (11.739, -24.5414, 1.5875) (13.6767, -23.0747, -17.4244) (23.7267, -23.0747, -17.4244)
properties part number "ServoMount"
